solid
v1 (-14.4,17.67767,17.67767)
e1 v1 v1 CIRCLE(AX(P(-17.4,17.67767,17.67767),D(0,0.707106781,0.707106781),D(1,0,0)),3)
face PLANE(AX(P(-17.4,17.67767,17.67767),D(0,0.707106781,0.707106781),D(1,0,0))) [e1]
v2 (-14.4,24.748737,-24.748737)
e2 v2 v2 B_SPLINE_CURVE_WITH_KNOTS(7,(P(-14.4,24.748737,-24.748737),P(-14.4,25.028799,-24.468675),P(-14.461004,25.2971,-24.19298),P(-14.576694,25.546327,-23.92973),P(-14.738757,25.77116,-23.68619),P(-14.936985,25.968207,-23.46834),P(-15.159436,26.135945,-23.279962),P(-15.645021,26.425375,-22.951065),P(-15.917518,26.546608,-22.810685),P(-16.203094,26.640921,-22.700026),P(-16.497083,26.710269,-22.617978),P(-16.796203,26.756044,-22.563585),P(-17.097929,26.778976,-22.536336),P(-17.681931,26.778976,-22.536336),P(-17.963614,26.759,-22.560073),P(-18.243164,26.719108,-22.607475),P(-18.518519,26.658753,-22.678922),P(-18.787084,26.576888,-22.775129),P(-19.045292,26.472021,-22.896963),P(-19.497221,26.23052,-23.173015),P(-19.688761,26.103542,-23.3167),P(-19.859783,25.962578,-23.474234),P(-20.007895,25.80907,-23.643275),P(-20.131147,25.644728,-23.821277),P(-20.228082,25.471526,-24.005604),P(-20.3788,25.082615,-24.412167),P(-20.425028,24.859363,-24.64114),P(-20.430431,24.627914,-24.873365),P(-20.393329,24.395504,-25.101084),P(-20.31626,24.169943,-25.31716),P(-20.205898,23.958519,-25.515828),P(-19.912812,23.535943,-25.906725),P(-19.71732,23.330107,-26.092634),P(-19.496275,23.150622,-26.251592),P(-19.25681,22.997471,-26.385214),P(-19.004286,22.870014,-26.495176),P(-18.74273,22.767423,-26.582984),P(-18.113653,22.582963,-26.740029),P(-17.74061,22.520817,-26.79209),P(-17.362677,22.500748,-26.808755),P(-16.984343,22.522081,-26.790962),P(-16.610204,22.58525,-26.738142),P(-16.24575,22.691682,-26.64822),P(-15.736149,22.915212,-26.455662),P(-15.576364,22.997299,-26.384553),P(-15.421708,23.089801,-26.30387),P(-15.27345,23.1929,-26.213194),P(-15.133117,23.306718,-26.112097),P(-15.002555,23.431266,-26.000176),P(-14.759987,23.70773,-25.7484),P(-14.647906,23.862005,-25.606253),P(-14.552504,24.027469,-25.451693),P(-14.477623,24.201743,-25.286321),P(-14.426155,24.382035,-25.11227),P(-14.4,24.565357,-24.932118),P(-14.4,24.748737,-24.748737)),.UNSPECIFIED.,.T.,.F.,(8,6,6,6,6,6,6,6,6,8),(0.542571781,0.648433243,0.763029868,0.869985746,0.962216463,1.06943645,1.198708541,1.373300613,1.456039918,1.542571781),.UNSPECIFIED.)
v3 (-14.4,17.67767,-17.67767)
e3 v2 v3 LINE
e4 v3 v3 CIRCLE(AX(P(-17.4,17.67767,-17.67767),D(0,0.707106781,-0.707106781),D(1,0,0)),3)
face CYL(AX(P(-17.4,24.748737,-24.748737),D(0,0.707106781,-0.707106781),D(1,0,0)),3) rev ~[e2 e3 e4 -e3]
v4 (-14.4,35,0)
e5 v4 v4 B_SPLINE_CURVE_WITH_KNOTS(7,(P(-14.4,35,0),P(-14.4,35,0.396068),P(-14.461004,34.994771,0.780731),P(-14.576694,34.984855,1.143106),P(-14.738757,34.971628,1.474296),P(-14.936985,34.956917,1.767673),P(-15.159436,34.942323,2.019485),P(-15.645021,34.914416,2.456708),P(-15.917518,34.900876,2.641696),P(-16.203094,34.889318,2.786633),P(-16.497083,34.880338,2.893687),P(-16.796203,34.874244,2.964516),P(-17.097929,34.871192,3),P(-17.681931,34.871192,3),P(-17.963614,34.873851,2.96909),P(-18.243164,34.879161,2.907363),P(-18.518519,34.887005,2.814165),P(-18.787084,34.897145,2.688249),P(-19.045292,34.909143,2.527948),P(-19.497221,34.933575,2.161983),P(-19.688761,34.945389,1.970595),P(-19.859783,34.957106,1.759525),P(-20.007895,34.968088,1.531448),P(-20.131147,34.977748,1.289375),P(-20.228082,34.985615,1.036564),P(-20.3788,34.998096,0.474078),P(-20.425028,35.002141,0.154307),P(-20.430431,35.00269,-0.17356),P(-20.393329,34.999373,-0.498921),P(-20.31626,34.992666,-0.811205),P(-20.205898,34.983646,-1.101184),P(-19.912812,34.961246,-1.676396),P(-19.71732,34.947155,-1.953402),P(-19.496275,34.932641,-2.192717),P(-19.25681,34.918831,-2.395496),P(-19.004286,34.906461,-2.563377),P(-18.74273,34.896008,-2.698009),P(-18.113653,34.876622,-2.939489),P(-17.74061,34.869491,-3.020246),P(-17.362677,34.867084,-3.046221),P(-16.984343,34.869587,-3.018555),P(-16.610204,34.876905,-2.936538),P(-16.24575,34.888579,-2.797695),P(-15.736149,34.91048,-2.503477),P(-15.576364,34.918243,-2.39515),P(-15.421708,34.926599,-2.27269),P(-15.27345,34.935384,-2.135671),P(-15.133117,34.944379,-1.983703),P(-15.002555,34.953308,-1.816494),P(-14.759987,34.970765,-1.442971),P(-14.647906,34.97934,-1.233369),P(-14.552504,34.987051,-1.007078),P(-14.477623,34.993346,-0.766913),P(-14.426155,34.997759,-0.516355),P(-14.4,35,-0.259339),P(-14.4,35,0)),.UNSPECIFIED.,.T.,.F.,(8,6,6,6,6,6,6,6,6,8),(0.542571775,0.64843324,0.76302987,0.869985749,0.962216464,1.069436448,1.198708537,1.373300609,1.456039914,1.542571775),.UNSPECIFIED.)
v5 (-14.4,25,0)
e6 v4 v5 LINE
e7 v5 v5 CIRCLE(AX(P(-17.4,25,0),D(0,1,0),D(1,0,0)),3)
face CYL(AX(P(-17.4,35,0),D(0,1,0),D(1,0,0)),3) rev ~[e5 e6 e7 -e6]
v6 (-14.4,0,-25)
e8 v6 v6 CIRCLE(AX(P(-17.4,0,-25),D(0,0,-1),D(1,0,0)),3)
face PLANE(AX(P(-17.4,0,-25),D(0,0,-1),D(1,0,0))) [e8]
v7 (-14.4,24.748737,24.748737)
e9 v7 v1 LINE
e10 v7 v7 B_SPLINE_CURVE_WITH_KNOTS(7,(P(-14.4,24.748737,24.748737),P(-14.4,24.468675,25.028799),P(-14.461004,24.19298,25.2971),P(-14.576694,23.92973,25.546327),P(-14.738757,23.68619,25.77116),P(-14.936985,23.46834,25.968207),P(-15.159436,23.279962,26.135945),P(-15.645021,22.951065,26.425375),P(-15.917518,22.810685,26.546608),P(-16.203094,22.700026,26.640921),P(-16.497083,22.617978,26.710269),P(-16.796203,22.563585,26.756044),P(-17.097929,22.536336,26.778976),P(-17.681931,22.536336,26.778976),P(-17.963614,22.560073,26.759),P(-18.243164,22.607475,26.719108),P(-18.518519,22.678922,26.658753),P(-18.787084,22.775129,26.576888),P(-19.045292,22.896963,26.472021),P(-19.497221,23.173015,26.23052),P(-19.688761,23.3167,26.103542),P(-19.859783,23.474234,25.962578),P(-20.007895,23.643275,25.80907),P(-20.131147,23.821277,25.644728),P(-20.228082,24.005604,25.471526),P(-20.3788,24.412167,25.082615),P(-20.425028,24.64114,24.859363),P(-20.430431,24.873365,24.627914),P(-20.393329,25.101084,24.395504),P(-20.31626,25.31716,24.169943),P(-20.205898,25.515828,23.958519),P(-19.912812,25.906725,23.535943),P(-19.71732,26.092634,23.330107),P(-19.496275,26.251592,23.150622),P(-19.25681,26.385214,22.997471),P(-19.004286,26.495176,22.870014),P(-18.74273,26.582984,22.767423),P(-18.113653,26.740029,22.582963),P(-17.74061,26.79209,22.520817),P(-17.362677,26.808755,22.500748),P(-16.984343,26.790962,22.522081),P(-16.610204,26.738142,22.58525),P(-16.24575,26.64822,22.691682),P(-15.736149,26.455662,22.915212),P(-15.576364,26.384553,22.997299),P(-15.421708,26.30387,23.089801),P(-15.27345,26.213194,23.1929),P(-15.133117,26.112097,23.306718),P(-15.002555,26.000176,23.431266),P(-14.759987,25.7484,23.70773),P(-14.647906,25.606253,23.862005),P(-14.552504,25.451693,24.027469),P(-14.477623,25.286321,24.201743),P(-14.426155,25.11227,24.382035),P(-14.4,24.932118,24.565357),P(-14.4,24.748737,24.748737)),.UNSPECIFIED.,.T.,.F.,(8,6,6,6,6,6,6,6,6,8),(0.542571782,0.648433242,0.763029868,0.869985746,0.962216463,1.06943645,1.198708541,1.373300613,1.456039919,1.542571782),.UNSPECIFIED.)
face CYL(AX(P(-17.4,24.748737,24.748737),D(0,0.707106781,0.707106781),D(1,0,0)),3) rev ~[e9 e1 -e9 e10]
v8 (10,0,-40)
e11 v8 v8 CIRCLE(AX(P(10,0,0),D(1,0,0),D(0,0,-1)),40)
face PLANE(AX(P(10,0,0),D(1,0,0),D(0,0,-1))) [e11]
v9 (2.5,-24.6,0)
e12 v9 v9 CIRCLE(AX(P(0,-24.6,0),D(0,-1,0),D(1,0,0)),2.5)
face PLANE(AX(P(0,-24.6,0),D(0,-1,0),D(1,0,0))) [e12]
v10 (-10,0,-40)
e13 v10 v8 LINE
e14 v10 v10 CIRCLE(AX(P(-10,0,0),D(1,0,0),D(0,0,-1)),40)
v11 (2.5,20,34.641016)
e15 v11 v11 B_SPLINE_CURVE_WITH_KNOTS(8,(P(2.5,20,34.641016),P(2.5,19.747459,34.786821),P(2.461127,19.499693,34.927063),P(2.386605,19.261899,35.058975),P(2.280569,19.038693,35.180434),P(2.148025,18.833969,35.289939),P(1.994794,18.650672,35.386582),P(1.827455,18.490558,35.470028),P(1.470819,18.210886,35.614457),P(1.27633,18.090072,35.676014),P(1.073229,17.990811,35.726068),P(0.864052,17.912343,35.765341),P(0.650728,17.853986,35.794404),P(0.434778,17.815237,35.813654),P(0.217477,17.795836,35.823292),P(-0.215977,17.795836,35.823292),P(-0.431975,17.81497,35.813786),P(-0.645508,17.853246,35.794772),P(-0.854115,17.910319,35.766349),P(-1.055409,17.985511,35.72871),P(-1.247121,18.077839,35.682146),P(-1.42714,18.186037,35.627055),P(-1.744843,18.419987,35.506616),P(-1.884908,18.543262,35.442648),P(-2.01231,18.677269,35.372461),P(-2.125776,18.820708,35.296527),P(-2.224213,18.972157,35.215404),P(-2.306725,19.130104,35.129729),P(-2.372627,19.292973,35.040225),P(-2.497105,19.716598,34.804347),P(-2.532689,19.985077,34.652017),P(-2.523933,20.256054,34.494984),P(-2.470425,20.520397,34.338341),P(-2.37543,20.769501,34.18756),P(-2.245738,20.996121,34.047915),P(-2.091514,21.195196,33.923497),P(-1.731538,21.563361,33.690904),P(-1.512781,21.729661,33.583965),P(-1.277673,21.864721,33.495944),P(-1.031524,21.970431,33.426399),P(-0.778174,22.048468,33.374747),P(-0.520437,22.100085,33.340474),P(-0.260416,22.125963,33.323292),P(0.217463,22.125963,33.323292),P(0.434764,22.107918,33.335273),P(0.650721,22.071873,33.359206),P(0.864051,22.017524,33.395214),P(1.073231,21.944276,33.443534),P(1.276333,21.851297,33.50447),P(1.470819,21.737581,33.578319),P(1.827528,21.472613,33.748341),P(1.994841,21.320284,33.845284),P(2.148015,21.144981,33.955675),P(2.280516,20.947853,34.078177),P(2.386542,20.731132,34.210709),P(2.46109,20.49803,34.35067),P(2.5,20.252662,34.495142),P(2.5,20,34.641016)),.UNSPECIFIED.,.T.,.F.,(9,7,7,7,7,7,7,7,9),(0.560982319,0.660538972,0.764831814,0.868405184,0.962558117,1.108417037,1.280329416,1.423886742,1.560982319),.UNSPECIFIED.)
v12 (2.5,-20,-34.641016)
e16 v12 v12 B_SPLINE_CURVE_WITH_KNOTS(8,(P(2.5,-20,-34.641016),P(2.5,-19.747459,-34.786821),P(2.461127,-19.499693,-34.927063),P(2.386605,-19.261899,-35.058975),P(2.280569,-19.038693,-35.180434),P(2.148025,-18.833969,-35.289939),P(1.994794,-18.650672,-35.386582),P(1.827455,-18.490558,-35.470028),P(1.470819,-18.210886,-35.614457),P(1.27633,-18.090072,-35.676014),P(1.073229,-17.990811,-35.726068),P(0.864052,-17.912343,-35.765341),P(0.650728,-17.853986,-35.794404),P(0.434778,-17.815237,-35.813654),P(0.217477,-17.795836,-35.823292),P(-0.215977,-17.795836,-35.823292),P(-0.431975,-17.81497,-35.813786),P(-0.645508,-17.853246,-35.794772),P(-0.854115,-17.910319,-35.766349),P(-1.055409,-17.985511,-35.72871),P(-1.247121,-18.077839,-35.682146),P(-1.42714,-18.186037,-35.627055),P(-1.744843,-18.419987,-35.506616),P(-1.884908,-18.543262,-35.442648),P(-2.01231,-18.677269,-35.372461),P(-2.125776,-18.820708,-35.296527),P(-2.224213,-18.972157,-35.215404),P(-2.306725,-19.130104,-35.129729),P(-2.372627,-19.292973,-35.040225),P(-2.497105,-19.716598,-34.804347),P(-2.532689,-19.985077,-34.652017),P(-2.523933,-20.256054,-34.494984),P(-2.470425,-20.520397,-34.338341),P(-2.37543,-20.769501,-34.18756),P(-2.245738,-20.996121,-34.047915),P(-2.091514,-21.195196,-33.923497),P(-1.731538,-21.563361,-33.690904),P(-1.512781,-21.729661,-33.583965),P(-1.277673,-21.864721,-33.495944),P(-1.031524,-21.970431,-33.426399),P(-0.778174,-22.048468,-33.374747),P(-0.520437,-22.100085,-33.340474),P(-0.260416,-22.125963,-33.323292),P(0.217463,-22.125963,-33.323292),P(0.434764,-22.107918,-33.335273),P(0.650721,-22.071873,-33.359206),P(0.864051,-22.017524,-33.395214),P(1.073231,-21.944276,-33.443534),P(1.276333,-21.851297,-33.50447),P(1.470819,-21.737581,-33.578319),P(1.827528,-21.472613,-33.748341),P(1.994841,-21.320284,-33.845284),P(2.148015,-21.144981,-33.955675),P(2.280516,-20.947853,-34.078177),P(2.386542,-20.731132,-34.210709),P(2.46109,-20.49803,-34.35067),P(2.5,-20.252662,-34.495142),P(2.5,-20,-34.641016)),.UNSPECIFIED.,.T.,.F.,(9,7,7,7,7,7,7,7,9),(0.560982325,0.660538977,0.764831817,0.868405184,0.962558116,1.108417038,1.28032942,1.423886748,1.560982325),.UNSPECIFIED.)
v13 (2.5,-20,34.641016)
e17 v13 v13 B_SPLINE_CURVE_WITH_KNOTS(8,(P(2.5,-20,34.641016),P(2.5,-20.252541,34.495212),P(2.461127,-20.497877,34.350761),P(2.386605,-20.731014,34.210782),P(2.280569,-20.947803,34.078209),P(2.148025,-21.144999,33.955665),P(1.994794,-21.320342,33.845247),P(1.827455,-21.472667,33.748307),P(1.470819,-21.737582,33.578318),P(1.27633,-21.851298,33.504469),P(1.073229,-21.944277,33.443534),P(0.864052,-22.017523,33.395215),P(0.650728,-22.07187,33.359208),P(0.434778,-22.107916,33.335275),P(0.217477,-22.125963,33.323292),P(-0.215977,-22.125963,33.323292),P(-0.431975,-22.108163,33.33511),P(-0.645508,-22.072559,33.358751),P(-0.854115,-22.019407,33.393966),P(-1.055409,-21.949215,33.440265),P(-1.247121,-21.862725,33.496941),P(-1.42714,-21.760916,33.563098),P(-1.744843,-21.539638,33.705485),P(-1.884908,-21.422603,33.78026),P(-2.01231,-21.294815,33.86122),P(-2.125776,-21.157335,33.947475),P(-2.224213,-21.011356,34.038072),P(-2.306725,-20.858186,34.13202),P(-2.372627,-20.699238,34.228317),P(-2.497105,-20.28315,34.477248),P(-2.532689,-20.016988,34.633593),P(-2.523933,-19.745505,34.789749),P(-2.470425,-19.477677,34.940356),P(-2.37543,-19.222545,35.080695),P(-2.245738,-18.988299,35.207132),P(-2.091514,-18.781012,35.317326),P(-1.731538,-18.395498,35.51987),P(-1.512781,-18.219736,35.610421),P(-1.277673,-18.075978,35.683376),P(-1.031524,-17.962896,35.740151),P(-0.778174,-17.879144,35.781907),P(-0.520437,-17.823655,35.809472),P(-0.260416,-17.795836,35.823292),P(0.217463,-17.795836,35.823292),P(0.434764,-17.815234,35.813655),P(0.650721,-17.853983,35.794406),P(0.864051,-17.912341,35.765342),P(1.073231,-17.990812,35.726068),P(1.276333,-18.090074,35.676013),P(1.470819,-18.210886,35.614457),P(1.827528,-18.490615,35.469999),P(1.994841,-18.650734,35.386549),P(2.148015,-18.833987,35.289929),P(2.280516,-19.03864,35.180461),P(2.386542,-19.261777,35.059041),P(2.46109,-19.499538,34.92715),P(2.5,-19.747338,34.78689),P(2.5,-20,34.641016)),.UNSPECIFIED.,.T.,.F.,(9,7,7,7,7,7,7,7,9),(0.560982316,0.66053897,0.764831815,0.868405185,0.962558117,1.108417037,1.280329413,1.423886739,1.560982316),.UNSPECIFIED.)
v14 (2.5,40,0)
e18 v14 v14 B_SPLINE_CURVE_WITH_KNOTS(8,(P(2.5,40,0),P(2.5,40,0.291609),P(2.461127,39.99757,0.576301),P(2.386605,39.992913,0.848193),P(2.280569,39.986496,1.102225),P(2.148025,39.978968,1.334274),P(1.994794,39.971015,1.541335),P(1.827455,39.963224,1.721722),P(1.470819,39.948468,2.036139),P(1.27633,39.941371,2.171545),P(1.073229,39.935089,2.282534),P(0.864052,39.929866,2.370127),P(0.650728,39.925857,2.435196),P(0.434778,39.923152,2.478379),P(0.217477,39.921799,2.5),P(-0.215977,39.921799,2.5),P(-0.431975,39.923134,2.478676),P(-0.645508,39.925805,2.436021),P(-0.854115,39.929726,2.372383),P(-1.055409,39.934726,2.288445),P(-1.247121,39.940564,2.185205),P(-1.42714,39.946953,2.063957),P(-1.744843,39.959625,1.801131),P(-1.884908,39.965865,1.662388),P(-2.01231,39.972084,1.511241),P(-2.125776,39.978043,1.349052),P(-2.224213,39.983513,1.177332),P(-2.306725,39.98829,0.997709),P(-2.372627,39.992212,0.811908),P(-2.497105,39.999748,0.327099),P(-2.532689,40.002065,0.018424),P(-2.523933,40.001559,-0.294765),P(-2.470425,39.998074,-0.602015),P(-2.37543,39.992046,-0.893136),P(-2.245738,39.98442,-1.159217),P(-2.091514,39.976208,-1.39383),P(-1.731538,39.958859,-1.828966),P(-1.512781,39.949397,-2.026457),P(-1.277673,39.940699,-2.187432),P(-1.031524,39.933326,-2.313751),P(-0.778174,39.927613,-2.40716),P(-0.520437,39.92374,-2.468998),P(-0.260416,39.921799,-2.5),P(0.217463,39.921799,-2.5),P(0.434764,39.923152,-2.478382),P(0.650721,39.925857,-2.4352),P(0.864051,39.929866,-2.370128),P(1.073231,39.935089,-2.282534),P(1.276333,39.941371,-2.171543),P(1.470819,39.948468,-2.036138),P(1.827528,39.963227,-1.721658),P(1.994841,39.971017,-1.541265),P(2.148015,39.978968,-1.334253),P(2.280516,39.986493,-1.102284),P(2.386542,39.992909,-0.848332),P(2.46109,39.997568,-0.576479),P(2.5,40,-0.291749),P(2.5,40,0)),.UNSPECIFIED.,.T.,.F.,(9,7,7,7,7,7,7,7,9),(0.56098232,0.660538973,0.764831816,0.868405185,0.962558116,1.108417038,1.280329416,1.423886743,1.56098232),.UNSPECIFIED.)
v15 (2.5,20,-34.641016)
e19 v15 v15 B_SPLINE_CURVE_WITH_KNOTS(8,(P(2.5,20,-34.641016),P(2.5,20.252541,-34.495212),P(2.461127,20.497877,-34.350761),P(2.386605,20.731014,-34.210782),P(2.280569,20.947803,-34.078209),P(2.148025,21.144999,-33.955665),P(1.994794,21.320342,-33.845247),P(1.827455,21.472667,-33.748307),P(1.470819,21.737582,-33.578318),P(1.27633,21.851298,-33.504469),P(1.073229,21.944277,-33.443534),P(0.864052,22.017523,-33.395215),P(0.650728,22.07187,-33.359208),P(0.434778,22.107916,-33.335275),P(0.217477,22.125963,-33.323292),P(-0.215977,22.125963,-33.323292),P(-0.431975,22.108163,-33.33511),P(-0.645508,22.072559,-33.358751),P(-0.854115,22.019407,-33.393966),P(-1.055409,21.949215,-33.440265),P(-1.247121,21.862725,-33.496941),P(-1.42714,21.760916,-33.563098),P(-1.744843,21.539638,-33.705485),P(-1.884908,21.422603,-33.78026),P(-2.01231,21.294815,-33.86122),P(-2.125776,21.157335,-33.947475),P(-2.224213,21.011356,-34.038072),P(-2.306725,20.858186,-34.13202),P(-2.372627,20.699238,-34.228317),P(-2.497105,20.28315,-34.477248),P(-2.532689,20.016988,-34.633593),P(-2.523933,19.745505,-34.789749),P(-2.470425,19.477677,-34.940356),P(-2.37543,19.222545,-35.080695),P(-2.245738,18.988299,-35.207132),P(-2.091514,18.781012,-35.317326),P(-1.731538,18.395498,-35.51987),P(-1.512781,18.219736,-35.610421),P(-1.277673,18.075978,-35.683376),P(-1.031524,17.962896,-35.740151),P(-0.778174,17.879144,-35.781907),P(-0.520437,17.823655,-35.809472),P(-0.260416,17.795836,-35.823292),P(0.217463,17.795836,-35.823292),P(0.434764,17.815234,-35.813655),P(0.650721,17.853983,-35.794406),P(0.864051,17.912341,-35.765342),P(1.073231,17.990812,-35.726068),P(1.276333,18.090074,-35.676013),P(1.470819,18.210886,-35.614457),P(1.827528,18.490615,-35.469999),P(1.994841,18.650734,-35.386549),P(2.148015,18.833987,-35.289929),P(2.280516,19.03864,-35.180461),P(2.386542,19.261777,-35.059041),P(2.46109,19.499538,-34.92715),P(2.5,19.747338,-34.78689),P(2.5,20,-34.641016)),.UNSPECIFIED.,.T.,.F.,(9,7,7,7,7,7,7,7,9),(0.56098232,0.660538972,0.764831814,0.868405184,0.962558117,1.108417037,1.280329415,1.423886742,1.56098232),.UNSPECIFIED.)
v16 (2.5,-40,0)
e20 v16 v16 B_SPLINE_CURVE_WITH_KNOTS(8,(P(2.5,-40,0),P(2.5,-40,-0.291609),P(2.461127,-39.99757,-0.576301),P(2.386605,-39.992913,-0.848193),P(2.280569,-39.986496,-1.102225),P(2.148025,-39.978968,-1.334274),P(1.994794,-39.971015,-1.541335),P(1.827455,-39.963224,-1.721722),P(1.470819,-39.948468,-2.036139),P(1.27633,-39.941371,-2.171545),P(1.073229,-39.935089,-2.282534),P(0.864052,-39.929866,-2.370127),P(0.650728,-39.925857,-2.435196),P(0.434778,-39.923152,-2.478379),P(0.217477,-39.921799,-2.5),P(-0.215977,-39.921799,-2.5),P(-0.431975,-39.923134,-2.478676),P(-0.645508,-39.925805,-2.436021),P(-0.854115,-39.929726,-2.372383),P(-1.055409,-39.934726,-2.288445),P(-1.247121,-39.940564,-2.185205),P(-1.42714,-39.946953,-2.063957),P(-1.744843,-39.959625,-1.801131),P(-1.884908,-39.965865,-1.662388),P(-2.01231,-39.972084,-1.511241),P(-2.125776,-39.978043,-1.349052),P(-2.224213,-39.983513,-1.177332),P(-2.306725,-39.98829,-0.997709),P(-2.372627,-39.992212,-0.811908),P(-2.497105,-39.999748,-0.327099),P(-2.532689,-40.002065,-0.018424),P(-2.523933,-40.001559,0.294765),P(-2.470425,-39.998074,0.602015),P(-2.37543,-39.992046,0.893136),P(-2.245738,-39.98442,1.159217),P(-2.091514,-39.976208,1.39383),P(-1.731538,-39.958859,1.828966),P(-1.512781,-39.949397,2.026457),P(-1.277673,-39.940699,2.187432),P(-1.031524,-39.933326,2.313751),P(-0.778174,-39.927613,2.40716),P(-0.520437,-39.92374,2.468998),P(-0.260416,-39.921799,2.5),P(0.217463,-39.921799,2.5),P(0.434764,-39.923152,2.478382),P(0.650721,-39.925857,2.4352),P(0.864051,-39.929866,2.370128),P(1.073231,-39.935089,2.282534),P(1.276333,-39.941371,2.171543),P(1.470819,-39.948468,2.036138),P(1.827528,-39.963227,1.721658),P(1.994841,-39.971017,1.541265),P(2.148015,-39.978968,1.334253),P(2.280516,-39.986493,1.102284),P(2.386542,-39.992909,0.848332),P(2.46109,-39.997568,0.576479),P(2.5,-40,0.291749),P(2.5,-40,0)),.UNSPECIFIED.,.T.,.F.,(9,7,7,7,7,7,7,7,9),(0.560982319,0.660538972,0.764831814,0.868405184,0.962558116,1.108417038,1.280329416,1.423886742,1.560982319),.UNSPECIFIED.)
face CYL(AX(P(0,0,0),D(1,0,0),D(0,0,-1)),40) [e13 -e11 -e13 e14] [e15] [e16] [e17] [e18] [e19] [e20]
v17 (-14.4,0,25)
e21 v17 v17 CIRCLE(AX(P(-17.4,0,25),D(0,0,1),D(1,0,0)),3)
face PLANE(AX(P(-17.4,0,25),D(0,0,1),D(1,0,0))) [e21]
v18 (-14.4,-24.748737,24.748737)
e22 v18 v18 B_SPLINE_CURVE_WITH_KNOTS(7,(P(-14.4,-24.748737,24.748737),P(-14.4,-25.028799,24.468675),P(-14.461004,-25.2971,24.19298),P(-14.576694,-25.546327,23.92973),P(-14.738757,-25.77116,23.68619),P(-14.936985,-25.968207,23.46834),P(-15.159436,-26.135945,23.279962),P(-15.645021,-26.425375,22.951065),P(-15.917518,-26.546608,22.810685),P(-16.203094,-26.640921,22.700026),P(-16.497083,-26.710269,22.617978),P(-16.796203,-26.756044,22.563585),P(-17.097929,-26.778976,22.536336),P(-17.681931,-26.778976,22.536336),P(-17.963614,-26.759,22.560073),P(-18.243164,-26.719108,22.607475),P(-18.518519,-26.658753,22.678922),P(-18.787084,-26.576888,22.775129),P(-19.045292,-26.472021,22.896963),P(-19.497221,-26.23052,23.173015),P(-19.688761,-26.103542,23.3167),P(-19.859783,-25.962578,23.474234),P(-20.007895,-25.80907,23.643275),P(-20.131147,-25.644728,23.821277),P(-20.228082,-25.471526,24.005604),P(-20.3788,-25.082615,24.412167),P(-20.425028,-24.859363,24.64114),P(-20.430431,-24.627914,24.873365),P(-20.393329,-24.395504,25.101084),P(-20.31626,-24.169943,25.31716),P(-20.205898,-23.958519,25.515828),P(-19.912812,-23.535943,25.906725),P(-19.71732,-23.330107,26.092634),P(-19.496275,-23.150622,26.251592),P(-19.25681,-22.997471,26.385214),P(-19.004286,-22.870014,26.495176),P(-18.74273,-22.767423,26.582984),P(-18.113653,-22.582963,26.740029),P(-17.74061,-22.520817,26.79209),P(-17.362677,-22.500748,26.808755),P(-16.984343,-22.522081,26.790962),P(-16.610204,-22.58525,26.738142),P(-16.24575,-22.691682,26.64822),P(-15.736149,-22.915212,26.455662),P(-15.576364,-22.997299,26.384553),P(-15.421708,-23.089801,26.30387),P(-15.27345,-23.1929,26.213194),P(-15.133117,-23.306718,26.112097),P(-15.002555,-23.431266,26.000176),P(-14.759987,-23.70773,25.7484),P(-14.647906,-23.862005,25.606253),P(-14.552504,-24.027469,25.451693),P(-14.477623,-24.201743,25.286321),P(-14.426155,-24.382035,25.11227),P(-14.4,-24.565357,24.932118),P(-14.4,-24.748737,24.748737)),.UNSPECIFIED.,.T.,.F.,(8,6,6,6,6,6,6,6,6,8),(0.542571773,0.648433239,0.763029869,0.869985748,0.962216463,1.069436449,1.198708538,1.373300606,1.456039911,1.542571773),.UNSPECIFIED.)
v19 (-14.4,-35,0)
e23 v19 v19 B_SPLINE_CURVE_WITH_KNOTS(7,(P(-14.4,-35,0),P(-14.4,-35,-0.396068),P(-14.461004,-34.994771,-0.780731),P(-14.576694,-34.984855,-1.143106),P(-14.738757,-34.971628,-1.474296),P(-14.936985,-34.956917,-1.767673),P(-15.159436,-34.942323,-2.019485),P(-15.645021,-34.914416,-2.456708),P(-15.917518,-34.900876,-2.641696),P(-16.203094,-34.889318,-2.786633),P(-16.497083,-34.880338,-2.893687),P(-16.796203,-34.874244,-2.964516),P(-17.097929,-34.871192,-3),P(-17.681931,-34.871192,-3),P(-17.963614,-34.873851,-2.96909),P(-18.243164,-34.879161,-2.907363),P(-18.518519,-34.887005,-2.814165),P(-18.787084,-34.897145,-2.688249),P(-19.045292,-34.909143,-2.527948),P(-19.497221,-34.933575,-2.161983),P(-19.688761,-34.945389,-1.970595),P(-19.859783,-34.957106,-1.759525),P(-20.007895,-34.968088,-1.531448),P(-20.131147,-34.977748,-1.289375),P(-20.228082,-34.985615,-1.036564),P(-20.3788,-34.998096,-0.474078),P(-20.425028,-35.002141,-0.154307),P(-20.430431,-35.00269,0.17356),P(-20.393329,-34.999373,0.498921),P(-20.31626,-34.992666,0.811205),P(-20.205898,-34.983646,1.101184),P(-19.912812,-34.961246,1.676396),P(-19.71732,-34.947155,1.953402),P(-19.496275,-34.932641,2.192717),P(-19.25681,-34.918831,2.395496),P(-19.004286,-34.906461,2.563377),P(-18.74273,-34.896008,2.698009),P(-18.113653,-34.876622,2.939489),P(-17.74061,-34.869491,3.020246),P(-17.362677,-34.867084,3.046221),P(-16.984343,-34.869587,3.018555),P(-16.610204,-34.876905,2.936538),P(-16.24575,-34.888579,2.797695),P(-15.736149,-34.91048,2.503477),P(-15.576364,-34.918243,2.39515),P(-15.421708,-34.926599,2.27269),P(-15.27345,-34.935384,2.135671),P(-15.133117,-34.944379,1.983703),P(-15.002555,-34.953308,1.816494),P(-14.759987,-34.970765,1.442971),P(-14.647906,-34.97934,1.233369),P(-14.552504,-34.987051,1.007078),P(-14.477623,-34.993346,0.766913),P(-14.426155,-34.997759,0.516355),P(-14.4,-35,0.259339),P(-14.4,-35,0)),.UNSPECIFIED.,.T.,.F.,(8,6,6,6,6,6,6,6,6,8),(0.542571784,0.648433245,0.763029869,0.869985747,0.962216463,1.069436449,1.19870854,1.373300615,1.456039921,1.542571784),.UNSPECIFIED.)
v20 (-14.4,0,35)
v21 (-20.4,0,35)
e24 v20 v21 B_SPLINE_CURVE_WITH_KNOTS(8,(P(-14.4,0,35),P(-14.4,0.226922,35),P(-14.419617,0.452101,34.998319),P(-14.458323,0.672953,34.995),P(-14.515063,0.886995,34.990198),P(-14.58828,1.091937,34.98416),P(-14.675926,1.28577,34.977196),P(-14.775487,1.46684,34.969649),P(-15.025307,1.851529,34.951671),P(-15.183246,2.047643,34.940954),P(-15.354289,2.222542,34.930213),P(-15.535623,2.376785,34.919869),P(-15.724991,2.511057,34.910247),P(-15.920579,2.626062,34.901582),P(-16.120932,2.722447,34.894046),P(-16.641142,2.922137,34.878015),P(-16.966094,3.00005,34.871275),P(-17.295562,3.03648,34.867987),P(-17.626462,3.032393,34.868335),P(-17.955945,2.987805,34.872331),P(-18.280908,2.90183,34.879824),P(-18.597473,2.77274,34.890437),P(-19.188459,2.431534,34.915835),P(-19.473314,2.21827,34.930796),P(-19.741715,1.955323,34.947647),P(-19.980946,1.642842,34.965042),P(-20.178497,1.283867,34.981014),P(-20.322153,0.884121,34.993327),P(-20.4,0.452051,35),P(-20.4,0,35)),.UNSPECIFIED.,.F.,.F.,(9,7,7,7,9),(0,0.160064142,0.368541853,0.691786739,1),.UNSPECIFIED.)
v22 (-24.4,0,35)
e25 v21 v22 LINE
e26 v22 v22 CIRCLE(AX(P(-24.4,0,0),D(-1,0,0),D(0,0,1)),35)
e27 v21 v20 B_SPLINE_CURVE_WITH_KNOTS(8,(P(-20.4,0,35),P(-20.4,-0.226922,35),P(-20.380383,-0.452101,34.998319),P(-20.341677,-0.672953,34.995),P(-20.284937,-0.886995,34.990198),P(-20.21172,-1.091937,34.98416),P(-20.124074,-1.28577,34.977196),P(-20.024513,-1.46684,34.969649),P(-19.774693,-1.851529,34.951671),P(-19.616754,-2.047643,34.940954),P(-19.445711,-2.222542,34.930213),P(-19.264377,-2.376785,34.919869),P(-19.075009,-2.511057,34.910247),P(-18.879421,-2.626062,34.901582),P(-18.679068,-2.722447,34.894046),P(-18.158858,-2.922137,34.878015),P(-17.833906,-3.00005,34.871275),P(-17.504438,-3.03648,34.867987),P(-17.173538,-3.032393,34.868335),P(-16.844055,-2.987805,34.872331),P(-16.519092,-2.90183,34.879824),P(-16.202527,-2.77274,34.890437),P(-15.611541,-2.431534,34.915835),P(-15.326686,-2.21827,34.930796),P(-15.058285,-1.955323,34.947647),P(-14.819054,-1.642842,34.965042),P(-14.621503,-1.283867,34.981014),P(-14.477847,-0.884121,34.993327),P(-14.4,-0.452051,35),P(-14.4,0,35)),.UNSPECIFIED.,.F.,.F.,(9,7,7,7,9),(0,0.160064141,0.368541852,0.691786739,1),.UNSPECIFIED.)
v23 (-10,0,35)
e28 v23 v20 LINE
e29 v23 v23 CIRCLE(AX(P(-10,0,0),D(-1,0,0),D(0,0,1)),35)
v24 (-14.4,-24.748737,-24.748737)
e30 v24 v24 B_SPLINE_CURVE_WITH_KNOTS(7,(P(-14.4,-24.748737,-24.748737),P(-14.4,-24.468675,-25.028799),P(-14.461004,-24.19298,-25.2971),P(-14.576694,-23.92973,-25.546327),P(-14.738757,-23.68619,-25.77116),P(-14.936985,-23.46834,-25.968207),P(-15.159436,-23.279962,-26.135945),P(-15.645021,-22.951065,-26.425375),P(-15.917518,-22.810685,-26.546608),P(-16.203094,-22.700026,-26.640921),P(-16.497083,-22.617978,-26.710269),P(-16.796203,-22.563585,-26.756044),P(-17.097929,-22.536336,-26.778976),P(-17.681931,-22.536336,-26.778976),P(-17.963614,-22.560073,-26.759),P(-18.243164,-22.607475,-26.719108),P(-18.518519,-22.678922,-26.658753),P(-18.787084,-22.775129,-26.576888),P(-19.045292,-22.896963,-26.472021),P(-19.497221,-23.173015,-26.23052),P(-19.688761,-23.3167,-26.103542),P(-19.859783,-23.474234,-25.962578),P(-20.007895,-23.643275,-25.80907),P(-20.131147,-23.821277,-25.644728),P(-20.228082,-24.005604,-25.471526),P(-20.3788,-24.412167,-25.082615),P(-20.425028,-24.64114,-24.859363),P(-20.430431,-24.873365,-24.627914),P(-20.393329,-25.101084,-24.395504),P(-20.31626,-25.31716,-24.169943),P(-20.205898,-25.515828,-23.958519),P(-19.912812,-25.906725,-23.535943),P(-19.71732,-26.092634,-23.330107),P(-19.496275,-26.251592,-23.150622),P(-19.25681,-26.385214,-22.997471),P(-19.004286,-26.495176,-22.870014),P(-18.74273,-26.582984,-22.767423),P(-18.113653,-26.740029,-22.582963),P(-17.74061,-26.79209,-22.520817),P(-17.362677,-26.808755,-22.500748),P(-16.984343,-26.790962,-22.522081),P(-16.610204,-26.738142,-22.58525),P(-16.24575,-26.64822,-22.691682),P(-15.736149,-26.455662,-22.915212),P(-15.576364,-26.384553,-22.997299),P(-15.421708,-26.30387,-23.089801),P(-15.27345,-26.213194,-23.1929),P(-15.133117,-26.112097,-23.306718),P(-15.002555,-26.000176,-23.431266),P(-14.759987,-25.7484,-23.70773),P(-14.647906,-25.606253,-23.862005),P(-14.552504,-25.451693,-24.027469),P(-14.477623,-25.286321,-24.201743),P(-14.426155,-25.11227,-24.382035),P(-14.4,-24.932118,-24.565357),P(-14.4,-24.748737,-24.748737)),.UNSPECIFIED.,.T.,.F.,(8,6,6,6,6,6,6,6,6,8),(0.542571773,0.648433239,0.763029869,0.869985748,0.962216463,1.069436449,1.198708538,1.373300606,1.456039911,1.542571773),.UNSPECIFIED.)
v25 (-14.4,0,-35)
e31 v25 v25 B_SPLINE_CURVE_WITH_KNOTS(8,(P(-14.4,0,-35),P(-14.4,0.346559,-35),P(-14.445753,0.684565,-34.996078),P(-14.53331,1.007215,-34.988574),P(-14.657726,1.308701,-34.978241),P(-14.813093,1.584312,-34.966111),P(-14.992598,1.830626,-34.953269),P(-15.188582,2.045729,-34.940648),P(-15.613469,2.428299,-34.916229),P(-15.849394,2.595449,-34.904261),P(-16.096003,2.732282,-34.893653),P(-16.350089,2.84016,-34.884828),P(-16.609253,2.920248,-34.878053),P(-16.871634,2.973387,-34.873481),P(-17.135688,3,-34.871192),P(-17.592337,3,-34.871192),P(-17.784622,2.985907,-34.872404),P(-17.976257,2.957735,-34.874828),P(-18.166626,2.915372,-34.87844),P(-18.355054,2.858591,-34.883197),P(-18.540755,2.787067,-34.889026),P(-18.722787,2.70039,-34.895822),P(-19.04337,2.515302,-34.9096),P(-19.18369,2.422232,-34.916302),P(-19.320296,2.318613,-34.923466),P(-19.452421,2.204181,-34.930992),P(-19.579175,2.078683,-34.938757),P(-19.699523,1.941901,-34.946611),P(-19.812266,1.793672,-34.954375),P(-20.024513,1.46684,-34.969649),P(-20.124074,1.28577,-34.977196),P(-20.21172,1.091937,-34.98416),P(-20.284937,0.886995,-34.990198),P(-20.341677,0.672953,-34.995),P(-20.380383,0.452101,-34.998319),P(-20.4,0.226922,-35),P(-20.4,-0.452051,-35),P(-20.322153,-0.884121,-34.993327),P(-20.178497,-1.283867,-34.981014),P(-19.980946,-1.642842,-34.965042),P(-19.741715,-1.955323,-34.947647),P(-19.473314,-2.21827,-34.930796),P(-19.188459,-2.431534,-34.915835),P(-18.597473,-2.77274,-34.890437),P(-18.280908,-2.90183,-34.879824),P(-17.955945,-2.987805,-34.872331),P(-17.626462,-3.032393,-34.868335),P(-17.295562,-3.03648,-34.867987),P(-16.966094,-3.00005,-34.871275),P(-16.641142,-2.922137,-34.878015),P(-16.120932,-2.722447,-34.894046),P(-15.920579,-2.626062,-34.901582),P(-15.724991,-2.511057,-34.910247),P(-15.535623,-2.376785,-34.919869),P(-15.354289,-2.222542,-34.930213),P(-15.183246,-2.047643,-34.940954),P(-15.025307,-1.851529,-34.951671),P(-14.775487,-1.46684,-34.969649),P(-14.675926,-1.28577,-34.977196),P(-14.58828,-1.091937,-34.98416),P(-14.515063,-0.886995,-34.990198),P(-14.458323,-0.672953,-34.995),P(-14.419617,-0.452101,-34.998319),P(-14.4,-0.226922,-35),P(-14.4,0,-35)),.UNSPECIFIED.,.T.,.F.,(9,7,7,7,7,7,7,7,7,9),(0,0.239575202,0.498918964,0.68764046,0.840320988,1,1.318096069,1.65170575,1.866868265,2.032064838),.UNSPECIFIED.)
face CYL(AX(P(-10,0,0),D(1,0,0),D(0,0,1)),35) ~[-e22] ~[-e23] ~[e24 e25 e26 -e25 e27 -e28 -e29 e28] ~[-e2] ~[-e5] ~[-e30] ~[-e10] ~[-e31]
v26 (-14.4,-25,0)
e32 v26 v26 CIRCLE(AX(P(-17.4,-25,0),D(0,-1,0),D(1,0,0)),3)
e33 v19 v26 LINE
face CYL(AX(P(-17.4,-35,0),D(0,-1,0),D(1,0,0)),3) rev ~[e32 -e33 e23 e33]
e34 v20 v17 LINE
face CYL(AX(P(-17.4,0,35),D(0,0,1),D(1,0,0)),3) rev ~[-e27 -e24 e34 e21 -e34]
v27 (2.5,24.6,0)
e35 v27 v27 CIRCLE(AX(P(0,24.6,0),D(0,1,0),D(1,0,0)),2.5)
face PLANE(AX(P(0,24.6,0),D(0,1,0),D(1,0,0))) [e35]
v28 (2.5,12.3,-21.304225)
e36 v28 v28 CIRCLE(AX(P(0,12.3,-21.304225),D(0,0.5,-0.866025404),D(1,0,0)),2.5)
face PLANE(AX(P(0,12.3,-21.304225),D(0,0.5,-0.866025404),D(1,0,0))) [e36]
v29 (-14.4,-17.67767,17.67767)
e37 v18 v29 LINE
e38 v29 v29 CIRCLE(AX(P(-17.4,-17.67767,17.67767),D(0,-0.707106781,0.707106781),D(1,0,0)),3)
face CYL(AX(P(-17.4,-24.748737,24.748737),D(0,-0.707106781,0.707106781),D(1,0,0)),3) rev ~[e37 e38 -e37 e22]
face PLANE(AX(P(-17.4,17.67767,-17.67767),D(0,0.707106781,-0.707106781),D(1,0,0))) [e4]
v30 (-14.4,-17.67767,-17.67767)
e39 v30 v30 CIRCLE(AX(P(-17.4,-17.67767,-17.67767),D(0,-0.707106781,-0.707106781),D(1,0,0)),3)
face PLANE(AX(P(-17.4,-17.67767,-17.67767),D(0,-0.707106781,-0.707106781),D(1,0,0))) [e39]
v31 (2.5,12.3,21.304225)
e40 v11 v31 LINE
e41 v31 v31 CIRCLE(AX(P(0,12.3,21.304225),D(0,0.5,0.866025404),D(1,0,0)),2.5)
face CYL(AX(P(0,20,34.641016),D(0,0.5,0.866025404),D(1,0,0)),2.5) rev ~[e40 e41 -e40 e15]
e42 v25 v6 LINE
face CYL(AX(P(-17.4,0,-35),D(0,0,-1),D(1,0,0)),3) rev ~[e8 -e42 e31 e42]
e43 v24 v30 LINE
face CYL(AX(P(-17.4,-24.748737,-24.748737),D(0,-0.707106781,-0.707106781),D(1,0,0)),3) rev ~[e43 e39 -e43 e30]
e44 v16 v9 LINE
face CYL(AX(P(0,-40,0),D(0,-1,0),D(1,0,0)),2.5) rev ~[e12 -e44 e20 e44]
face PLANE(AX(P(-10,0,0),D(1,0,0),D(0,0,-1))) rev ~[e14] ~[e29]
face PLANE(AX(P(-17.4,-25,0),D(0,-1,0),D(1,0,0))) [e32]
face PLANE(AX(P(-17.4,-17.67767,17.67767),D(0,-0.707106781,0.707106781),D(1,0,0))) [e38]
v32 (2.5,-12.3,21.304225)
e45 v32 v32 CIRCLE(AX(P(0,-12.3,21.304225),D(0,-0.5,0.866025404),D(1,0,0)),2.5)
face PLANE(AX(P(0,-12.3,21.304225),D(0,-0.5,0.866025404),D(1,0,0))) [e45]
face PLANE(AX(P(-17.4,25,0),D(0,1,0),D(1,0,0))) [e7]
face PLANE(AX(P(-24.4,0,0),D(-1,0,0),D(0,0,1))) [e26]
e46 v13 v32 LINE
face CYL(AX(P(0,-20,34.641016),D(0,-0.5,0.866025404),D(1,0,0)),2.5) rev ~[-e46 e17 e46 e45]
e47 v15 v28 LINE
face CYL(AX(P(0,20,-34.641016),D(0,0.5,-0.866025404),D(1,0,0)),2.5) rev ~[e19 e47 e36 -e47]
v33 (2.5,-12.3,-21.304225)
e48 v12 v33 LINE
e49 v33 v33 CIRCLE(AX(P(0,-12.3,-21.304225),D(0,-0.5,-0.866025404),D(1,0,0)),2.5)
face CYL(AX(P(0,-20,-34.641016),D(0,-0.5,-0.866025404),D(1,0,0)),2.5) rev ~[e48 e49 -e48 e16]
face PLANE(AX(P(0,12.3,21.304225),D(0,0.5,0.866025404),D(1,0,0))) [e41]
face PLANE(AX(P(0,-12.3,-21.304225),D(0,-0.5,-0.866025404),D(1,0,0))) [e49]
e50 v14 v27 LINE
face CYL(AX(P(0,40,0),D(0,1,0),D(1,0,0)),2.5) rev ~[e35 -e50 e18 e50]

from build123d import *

# Parameters (mm, degrees)
SKETCH1_R           = 40
BOSS_EXTRUDE2_DEPTH = 10
SKETCH4_R           = 2.5
CUT_EXTRUDE3_DEPTH  = 15.4
CIRPATTERN1_COUNT   = 6
SKETCH3_R           = 35
BOSS_EXTRUDE4_DEPTH = 14.4
SKETCH8_R           = 3
CUT_EXTRUDE4_DEPTH  = 10
CIRPATTERN2_COUNT   = 8


with BuildPart() as part:
    # Sketch1 → Boss-Extrude2 (new body, symmetric)
    with BuildSketch(Plane(origin=(0, 0, 0), x_dir=(0, 0, -1), z_dir=(1, 0, 0))):
        Circle(SKETCH1_R)
    extrude(amount=BOSS_EXTRUDE2_DEPTH, both=True)

    # Sketch4 → Cut-Extrude3 (cut)
    with BuildSketch(Plane(origin=(0, 40, 0), x_dir=(1, 0, 0), z_dir=(0, 1, 0))):
        Circle(SKETCH4_R)
    cut_extrude3 = extrude(amount=-CUT_EXTRUDE3_DEPTH, mode=Mode.SUBTRACT)

    # CirPattern1: Cut-Extrude3 ×6 about axis
    cirpattern1_axis = Axis((0, 0, 0), (1, 0, 0))
    for i in range(1, CIRPATTERN1_COUNT):
        add(cut_extrude3.rotate(cirpattern1_axis, i * 360 / CIRPATTERN1_COUNT), mode=Mode.SUBTRACT)

    # Sketch3 → Boss-Extrude4 (add)
    with BuildSketch(Plane.ZY.offset(10)):
        Circle(SKETCH3_R)
    extrude(amount=BOSS_EXTRUDE4_DEPTH)

    # Sketch8 → Cut-Extrude4 (cut)
    with BuildSketch(Plane(origin=(0, 35, 0), x_dir=(1, 0, 0), z_dir=(0, 1, 0))):
        with Locations((-17.4, 0)):
            Circle(SKETCH8_R)
    cut_extrude4 = extrude(amount=-CUT_EXTRUDE4_DEPTH, mode=Mode.SUBTRACT)

    # CirPattern2: Cut-Extrude4 ×8 about axis
    cirpattern2_axis = Axis((0, 0, 0), (1, 0, 0))
    for i in range(1, CIRPATTERN2_COUNT):
        add(cut_extrude4.rotate(cirpattern2_axis, i * 360 / CIRPATTERN2_COUNT), mode=Mode.SUBTRACT)


solid = part.part
